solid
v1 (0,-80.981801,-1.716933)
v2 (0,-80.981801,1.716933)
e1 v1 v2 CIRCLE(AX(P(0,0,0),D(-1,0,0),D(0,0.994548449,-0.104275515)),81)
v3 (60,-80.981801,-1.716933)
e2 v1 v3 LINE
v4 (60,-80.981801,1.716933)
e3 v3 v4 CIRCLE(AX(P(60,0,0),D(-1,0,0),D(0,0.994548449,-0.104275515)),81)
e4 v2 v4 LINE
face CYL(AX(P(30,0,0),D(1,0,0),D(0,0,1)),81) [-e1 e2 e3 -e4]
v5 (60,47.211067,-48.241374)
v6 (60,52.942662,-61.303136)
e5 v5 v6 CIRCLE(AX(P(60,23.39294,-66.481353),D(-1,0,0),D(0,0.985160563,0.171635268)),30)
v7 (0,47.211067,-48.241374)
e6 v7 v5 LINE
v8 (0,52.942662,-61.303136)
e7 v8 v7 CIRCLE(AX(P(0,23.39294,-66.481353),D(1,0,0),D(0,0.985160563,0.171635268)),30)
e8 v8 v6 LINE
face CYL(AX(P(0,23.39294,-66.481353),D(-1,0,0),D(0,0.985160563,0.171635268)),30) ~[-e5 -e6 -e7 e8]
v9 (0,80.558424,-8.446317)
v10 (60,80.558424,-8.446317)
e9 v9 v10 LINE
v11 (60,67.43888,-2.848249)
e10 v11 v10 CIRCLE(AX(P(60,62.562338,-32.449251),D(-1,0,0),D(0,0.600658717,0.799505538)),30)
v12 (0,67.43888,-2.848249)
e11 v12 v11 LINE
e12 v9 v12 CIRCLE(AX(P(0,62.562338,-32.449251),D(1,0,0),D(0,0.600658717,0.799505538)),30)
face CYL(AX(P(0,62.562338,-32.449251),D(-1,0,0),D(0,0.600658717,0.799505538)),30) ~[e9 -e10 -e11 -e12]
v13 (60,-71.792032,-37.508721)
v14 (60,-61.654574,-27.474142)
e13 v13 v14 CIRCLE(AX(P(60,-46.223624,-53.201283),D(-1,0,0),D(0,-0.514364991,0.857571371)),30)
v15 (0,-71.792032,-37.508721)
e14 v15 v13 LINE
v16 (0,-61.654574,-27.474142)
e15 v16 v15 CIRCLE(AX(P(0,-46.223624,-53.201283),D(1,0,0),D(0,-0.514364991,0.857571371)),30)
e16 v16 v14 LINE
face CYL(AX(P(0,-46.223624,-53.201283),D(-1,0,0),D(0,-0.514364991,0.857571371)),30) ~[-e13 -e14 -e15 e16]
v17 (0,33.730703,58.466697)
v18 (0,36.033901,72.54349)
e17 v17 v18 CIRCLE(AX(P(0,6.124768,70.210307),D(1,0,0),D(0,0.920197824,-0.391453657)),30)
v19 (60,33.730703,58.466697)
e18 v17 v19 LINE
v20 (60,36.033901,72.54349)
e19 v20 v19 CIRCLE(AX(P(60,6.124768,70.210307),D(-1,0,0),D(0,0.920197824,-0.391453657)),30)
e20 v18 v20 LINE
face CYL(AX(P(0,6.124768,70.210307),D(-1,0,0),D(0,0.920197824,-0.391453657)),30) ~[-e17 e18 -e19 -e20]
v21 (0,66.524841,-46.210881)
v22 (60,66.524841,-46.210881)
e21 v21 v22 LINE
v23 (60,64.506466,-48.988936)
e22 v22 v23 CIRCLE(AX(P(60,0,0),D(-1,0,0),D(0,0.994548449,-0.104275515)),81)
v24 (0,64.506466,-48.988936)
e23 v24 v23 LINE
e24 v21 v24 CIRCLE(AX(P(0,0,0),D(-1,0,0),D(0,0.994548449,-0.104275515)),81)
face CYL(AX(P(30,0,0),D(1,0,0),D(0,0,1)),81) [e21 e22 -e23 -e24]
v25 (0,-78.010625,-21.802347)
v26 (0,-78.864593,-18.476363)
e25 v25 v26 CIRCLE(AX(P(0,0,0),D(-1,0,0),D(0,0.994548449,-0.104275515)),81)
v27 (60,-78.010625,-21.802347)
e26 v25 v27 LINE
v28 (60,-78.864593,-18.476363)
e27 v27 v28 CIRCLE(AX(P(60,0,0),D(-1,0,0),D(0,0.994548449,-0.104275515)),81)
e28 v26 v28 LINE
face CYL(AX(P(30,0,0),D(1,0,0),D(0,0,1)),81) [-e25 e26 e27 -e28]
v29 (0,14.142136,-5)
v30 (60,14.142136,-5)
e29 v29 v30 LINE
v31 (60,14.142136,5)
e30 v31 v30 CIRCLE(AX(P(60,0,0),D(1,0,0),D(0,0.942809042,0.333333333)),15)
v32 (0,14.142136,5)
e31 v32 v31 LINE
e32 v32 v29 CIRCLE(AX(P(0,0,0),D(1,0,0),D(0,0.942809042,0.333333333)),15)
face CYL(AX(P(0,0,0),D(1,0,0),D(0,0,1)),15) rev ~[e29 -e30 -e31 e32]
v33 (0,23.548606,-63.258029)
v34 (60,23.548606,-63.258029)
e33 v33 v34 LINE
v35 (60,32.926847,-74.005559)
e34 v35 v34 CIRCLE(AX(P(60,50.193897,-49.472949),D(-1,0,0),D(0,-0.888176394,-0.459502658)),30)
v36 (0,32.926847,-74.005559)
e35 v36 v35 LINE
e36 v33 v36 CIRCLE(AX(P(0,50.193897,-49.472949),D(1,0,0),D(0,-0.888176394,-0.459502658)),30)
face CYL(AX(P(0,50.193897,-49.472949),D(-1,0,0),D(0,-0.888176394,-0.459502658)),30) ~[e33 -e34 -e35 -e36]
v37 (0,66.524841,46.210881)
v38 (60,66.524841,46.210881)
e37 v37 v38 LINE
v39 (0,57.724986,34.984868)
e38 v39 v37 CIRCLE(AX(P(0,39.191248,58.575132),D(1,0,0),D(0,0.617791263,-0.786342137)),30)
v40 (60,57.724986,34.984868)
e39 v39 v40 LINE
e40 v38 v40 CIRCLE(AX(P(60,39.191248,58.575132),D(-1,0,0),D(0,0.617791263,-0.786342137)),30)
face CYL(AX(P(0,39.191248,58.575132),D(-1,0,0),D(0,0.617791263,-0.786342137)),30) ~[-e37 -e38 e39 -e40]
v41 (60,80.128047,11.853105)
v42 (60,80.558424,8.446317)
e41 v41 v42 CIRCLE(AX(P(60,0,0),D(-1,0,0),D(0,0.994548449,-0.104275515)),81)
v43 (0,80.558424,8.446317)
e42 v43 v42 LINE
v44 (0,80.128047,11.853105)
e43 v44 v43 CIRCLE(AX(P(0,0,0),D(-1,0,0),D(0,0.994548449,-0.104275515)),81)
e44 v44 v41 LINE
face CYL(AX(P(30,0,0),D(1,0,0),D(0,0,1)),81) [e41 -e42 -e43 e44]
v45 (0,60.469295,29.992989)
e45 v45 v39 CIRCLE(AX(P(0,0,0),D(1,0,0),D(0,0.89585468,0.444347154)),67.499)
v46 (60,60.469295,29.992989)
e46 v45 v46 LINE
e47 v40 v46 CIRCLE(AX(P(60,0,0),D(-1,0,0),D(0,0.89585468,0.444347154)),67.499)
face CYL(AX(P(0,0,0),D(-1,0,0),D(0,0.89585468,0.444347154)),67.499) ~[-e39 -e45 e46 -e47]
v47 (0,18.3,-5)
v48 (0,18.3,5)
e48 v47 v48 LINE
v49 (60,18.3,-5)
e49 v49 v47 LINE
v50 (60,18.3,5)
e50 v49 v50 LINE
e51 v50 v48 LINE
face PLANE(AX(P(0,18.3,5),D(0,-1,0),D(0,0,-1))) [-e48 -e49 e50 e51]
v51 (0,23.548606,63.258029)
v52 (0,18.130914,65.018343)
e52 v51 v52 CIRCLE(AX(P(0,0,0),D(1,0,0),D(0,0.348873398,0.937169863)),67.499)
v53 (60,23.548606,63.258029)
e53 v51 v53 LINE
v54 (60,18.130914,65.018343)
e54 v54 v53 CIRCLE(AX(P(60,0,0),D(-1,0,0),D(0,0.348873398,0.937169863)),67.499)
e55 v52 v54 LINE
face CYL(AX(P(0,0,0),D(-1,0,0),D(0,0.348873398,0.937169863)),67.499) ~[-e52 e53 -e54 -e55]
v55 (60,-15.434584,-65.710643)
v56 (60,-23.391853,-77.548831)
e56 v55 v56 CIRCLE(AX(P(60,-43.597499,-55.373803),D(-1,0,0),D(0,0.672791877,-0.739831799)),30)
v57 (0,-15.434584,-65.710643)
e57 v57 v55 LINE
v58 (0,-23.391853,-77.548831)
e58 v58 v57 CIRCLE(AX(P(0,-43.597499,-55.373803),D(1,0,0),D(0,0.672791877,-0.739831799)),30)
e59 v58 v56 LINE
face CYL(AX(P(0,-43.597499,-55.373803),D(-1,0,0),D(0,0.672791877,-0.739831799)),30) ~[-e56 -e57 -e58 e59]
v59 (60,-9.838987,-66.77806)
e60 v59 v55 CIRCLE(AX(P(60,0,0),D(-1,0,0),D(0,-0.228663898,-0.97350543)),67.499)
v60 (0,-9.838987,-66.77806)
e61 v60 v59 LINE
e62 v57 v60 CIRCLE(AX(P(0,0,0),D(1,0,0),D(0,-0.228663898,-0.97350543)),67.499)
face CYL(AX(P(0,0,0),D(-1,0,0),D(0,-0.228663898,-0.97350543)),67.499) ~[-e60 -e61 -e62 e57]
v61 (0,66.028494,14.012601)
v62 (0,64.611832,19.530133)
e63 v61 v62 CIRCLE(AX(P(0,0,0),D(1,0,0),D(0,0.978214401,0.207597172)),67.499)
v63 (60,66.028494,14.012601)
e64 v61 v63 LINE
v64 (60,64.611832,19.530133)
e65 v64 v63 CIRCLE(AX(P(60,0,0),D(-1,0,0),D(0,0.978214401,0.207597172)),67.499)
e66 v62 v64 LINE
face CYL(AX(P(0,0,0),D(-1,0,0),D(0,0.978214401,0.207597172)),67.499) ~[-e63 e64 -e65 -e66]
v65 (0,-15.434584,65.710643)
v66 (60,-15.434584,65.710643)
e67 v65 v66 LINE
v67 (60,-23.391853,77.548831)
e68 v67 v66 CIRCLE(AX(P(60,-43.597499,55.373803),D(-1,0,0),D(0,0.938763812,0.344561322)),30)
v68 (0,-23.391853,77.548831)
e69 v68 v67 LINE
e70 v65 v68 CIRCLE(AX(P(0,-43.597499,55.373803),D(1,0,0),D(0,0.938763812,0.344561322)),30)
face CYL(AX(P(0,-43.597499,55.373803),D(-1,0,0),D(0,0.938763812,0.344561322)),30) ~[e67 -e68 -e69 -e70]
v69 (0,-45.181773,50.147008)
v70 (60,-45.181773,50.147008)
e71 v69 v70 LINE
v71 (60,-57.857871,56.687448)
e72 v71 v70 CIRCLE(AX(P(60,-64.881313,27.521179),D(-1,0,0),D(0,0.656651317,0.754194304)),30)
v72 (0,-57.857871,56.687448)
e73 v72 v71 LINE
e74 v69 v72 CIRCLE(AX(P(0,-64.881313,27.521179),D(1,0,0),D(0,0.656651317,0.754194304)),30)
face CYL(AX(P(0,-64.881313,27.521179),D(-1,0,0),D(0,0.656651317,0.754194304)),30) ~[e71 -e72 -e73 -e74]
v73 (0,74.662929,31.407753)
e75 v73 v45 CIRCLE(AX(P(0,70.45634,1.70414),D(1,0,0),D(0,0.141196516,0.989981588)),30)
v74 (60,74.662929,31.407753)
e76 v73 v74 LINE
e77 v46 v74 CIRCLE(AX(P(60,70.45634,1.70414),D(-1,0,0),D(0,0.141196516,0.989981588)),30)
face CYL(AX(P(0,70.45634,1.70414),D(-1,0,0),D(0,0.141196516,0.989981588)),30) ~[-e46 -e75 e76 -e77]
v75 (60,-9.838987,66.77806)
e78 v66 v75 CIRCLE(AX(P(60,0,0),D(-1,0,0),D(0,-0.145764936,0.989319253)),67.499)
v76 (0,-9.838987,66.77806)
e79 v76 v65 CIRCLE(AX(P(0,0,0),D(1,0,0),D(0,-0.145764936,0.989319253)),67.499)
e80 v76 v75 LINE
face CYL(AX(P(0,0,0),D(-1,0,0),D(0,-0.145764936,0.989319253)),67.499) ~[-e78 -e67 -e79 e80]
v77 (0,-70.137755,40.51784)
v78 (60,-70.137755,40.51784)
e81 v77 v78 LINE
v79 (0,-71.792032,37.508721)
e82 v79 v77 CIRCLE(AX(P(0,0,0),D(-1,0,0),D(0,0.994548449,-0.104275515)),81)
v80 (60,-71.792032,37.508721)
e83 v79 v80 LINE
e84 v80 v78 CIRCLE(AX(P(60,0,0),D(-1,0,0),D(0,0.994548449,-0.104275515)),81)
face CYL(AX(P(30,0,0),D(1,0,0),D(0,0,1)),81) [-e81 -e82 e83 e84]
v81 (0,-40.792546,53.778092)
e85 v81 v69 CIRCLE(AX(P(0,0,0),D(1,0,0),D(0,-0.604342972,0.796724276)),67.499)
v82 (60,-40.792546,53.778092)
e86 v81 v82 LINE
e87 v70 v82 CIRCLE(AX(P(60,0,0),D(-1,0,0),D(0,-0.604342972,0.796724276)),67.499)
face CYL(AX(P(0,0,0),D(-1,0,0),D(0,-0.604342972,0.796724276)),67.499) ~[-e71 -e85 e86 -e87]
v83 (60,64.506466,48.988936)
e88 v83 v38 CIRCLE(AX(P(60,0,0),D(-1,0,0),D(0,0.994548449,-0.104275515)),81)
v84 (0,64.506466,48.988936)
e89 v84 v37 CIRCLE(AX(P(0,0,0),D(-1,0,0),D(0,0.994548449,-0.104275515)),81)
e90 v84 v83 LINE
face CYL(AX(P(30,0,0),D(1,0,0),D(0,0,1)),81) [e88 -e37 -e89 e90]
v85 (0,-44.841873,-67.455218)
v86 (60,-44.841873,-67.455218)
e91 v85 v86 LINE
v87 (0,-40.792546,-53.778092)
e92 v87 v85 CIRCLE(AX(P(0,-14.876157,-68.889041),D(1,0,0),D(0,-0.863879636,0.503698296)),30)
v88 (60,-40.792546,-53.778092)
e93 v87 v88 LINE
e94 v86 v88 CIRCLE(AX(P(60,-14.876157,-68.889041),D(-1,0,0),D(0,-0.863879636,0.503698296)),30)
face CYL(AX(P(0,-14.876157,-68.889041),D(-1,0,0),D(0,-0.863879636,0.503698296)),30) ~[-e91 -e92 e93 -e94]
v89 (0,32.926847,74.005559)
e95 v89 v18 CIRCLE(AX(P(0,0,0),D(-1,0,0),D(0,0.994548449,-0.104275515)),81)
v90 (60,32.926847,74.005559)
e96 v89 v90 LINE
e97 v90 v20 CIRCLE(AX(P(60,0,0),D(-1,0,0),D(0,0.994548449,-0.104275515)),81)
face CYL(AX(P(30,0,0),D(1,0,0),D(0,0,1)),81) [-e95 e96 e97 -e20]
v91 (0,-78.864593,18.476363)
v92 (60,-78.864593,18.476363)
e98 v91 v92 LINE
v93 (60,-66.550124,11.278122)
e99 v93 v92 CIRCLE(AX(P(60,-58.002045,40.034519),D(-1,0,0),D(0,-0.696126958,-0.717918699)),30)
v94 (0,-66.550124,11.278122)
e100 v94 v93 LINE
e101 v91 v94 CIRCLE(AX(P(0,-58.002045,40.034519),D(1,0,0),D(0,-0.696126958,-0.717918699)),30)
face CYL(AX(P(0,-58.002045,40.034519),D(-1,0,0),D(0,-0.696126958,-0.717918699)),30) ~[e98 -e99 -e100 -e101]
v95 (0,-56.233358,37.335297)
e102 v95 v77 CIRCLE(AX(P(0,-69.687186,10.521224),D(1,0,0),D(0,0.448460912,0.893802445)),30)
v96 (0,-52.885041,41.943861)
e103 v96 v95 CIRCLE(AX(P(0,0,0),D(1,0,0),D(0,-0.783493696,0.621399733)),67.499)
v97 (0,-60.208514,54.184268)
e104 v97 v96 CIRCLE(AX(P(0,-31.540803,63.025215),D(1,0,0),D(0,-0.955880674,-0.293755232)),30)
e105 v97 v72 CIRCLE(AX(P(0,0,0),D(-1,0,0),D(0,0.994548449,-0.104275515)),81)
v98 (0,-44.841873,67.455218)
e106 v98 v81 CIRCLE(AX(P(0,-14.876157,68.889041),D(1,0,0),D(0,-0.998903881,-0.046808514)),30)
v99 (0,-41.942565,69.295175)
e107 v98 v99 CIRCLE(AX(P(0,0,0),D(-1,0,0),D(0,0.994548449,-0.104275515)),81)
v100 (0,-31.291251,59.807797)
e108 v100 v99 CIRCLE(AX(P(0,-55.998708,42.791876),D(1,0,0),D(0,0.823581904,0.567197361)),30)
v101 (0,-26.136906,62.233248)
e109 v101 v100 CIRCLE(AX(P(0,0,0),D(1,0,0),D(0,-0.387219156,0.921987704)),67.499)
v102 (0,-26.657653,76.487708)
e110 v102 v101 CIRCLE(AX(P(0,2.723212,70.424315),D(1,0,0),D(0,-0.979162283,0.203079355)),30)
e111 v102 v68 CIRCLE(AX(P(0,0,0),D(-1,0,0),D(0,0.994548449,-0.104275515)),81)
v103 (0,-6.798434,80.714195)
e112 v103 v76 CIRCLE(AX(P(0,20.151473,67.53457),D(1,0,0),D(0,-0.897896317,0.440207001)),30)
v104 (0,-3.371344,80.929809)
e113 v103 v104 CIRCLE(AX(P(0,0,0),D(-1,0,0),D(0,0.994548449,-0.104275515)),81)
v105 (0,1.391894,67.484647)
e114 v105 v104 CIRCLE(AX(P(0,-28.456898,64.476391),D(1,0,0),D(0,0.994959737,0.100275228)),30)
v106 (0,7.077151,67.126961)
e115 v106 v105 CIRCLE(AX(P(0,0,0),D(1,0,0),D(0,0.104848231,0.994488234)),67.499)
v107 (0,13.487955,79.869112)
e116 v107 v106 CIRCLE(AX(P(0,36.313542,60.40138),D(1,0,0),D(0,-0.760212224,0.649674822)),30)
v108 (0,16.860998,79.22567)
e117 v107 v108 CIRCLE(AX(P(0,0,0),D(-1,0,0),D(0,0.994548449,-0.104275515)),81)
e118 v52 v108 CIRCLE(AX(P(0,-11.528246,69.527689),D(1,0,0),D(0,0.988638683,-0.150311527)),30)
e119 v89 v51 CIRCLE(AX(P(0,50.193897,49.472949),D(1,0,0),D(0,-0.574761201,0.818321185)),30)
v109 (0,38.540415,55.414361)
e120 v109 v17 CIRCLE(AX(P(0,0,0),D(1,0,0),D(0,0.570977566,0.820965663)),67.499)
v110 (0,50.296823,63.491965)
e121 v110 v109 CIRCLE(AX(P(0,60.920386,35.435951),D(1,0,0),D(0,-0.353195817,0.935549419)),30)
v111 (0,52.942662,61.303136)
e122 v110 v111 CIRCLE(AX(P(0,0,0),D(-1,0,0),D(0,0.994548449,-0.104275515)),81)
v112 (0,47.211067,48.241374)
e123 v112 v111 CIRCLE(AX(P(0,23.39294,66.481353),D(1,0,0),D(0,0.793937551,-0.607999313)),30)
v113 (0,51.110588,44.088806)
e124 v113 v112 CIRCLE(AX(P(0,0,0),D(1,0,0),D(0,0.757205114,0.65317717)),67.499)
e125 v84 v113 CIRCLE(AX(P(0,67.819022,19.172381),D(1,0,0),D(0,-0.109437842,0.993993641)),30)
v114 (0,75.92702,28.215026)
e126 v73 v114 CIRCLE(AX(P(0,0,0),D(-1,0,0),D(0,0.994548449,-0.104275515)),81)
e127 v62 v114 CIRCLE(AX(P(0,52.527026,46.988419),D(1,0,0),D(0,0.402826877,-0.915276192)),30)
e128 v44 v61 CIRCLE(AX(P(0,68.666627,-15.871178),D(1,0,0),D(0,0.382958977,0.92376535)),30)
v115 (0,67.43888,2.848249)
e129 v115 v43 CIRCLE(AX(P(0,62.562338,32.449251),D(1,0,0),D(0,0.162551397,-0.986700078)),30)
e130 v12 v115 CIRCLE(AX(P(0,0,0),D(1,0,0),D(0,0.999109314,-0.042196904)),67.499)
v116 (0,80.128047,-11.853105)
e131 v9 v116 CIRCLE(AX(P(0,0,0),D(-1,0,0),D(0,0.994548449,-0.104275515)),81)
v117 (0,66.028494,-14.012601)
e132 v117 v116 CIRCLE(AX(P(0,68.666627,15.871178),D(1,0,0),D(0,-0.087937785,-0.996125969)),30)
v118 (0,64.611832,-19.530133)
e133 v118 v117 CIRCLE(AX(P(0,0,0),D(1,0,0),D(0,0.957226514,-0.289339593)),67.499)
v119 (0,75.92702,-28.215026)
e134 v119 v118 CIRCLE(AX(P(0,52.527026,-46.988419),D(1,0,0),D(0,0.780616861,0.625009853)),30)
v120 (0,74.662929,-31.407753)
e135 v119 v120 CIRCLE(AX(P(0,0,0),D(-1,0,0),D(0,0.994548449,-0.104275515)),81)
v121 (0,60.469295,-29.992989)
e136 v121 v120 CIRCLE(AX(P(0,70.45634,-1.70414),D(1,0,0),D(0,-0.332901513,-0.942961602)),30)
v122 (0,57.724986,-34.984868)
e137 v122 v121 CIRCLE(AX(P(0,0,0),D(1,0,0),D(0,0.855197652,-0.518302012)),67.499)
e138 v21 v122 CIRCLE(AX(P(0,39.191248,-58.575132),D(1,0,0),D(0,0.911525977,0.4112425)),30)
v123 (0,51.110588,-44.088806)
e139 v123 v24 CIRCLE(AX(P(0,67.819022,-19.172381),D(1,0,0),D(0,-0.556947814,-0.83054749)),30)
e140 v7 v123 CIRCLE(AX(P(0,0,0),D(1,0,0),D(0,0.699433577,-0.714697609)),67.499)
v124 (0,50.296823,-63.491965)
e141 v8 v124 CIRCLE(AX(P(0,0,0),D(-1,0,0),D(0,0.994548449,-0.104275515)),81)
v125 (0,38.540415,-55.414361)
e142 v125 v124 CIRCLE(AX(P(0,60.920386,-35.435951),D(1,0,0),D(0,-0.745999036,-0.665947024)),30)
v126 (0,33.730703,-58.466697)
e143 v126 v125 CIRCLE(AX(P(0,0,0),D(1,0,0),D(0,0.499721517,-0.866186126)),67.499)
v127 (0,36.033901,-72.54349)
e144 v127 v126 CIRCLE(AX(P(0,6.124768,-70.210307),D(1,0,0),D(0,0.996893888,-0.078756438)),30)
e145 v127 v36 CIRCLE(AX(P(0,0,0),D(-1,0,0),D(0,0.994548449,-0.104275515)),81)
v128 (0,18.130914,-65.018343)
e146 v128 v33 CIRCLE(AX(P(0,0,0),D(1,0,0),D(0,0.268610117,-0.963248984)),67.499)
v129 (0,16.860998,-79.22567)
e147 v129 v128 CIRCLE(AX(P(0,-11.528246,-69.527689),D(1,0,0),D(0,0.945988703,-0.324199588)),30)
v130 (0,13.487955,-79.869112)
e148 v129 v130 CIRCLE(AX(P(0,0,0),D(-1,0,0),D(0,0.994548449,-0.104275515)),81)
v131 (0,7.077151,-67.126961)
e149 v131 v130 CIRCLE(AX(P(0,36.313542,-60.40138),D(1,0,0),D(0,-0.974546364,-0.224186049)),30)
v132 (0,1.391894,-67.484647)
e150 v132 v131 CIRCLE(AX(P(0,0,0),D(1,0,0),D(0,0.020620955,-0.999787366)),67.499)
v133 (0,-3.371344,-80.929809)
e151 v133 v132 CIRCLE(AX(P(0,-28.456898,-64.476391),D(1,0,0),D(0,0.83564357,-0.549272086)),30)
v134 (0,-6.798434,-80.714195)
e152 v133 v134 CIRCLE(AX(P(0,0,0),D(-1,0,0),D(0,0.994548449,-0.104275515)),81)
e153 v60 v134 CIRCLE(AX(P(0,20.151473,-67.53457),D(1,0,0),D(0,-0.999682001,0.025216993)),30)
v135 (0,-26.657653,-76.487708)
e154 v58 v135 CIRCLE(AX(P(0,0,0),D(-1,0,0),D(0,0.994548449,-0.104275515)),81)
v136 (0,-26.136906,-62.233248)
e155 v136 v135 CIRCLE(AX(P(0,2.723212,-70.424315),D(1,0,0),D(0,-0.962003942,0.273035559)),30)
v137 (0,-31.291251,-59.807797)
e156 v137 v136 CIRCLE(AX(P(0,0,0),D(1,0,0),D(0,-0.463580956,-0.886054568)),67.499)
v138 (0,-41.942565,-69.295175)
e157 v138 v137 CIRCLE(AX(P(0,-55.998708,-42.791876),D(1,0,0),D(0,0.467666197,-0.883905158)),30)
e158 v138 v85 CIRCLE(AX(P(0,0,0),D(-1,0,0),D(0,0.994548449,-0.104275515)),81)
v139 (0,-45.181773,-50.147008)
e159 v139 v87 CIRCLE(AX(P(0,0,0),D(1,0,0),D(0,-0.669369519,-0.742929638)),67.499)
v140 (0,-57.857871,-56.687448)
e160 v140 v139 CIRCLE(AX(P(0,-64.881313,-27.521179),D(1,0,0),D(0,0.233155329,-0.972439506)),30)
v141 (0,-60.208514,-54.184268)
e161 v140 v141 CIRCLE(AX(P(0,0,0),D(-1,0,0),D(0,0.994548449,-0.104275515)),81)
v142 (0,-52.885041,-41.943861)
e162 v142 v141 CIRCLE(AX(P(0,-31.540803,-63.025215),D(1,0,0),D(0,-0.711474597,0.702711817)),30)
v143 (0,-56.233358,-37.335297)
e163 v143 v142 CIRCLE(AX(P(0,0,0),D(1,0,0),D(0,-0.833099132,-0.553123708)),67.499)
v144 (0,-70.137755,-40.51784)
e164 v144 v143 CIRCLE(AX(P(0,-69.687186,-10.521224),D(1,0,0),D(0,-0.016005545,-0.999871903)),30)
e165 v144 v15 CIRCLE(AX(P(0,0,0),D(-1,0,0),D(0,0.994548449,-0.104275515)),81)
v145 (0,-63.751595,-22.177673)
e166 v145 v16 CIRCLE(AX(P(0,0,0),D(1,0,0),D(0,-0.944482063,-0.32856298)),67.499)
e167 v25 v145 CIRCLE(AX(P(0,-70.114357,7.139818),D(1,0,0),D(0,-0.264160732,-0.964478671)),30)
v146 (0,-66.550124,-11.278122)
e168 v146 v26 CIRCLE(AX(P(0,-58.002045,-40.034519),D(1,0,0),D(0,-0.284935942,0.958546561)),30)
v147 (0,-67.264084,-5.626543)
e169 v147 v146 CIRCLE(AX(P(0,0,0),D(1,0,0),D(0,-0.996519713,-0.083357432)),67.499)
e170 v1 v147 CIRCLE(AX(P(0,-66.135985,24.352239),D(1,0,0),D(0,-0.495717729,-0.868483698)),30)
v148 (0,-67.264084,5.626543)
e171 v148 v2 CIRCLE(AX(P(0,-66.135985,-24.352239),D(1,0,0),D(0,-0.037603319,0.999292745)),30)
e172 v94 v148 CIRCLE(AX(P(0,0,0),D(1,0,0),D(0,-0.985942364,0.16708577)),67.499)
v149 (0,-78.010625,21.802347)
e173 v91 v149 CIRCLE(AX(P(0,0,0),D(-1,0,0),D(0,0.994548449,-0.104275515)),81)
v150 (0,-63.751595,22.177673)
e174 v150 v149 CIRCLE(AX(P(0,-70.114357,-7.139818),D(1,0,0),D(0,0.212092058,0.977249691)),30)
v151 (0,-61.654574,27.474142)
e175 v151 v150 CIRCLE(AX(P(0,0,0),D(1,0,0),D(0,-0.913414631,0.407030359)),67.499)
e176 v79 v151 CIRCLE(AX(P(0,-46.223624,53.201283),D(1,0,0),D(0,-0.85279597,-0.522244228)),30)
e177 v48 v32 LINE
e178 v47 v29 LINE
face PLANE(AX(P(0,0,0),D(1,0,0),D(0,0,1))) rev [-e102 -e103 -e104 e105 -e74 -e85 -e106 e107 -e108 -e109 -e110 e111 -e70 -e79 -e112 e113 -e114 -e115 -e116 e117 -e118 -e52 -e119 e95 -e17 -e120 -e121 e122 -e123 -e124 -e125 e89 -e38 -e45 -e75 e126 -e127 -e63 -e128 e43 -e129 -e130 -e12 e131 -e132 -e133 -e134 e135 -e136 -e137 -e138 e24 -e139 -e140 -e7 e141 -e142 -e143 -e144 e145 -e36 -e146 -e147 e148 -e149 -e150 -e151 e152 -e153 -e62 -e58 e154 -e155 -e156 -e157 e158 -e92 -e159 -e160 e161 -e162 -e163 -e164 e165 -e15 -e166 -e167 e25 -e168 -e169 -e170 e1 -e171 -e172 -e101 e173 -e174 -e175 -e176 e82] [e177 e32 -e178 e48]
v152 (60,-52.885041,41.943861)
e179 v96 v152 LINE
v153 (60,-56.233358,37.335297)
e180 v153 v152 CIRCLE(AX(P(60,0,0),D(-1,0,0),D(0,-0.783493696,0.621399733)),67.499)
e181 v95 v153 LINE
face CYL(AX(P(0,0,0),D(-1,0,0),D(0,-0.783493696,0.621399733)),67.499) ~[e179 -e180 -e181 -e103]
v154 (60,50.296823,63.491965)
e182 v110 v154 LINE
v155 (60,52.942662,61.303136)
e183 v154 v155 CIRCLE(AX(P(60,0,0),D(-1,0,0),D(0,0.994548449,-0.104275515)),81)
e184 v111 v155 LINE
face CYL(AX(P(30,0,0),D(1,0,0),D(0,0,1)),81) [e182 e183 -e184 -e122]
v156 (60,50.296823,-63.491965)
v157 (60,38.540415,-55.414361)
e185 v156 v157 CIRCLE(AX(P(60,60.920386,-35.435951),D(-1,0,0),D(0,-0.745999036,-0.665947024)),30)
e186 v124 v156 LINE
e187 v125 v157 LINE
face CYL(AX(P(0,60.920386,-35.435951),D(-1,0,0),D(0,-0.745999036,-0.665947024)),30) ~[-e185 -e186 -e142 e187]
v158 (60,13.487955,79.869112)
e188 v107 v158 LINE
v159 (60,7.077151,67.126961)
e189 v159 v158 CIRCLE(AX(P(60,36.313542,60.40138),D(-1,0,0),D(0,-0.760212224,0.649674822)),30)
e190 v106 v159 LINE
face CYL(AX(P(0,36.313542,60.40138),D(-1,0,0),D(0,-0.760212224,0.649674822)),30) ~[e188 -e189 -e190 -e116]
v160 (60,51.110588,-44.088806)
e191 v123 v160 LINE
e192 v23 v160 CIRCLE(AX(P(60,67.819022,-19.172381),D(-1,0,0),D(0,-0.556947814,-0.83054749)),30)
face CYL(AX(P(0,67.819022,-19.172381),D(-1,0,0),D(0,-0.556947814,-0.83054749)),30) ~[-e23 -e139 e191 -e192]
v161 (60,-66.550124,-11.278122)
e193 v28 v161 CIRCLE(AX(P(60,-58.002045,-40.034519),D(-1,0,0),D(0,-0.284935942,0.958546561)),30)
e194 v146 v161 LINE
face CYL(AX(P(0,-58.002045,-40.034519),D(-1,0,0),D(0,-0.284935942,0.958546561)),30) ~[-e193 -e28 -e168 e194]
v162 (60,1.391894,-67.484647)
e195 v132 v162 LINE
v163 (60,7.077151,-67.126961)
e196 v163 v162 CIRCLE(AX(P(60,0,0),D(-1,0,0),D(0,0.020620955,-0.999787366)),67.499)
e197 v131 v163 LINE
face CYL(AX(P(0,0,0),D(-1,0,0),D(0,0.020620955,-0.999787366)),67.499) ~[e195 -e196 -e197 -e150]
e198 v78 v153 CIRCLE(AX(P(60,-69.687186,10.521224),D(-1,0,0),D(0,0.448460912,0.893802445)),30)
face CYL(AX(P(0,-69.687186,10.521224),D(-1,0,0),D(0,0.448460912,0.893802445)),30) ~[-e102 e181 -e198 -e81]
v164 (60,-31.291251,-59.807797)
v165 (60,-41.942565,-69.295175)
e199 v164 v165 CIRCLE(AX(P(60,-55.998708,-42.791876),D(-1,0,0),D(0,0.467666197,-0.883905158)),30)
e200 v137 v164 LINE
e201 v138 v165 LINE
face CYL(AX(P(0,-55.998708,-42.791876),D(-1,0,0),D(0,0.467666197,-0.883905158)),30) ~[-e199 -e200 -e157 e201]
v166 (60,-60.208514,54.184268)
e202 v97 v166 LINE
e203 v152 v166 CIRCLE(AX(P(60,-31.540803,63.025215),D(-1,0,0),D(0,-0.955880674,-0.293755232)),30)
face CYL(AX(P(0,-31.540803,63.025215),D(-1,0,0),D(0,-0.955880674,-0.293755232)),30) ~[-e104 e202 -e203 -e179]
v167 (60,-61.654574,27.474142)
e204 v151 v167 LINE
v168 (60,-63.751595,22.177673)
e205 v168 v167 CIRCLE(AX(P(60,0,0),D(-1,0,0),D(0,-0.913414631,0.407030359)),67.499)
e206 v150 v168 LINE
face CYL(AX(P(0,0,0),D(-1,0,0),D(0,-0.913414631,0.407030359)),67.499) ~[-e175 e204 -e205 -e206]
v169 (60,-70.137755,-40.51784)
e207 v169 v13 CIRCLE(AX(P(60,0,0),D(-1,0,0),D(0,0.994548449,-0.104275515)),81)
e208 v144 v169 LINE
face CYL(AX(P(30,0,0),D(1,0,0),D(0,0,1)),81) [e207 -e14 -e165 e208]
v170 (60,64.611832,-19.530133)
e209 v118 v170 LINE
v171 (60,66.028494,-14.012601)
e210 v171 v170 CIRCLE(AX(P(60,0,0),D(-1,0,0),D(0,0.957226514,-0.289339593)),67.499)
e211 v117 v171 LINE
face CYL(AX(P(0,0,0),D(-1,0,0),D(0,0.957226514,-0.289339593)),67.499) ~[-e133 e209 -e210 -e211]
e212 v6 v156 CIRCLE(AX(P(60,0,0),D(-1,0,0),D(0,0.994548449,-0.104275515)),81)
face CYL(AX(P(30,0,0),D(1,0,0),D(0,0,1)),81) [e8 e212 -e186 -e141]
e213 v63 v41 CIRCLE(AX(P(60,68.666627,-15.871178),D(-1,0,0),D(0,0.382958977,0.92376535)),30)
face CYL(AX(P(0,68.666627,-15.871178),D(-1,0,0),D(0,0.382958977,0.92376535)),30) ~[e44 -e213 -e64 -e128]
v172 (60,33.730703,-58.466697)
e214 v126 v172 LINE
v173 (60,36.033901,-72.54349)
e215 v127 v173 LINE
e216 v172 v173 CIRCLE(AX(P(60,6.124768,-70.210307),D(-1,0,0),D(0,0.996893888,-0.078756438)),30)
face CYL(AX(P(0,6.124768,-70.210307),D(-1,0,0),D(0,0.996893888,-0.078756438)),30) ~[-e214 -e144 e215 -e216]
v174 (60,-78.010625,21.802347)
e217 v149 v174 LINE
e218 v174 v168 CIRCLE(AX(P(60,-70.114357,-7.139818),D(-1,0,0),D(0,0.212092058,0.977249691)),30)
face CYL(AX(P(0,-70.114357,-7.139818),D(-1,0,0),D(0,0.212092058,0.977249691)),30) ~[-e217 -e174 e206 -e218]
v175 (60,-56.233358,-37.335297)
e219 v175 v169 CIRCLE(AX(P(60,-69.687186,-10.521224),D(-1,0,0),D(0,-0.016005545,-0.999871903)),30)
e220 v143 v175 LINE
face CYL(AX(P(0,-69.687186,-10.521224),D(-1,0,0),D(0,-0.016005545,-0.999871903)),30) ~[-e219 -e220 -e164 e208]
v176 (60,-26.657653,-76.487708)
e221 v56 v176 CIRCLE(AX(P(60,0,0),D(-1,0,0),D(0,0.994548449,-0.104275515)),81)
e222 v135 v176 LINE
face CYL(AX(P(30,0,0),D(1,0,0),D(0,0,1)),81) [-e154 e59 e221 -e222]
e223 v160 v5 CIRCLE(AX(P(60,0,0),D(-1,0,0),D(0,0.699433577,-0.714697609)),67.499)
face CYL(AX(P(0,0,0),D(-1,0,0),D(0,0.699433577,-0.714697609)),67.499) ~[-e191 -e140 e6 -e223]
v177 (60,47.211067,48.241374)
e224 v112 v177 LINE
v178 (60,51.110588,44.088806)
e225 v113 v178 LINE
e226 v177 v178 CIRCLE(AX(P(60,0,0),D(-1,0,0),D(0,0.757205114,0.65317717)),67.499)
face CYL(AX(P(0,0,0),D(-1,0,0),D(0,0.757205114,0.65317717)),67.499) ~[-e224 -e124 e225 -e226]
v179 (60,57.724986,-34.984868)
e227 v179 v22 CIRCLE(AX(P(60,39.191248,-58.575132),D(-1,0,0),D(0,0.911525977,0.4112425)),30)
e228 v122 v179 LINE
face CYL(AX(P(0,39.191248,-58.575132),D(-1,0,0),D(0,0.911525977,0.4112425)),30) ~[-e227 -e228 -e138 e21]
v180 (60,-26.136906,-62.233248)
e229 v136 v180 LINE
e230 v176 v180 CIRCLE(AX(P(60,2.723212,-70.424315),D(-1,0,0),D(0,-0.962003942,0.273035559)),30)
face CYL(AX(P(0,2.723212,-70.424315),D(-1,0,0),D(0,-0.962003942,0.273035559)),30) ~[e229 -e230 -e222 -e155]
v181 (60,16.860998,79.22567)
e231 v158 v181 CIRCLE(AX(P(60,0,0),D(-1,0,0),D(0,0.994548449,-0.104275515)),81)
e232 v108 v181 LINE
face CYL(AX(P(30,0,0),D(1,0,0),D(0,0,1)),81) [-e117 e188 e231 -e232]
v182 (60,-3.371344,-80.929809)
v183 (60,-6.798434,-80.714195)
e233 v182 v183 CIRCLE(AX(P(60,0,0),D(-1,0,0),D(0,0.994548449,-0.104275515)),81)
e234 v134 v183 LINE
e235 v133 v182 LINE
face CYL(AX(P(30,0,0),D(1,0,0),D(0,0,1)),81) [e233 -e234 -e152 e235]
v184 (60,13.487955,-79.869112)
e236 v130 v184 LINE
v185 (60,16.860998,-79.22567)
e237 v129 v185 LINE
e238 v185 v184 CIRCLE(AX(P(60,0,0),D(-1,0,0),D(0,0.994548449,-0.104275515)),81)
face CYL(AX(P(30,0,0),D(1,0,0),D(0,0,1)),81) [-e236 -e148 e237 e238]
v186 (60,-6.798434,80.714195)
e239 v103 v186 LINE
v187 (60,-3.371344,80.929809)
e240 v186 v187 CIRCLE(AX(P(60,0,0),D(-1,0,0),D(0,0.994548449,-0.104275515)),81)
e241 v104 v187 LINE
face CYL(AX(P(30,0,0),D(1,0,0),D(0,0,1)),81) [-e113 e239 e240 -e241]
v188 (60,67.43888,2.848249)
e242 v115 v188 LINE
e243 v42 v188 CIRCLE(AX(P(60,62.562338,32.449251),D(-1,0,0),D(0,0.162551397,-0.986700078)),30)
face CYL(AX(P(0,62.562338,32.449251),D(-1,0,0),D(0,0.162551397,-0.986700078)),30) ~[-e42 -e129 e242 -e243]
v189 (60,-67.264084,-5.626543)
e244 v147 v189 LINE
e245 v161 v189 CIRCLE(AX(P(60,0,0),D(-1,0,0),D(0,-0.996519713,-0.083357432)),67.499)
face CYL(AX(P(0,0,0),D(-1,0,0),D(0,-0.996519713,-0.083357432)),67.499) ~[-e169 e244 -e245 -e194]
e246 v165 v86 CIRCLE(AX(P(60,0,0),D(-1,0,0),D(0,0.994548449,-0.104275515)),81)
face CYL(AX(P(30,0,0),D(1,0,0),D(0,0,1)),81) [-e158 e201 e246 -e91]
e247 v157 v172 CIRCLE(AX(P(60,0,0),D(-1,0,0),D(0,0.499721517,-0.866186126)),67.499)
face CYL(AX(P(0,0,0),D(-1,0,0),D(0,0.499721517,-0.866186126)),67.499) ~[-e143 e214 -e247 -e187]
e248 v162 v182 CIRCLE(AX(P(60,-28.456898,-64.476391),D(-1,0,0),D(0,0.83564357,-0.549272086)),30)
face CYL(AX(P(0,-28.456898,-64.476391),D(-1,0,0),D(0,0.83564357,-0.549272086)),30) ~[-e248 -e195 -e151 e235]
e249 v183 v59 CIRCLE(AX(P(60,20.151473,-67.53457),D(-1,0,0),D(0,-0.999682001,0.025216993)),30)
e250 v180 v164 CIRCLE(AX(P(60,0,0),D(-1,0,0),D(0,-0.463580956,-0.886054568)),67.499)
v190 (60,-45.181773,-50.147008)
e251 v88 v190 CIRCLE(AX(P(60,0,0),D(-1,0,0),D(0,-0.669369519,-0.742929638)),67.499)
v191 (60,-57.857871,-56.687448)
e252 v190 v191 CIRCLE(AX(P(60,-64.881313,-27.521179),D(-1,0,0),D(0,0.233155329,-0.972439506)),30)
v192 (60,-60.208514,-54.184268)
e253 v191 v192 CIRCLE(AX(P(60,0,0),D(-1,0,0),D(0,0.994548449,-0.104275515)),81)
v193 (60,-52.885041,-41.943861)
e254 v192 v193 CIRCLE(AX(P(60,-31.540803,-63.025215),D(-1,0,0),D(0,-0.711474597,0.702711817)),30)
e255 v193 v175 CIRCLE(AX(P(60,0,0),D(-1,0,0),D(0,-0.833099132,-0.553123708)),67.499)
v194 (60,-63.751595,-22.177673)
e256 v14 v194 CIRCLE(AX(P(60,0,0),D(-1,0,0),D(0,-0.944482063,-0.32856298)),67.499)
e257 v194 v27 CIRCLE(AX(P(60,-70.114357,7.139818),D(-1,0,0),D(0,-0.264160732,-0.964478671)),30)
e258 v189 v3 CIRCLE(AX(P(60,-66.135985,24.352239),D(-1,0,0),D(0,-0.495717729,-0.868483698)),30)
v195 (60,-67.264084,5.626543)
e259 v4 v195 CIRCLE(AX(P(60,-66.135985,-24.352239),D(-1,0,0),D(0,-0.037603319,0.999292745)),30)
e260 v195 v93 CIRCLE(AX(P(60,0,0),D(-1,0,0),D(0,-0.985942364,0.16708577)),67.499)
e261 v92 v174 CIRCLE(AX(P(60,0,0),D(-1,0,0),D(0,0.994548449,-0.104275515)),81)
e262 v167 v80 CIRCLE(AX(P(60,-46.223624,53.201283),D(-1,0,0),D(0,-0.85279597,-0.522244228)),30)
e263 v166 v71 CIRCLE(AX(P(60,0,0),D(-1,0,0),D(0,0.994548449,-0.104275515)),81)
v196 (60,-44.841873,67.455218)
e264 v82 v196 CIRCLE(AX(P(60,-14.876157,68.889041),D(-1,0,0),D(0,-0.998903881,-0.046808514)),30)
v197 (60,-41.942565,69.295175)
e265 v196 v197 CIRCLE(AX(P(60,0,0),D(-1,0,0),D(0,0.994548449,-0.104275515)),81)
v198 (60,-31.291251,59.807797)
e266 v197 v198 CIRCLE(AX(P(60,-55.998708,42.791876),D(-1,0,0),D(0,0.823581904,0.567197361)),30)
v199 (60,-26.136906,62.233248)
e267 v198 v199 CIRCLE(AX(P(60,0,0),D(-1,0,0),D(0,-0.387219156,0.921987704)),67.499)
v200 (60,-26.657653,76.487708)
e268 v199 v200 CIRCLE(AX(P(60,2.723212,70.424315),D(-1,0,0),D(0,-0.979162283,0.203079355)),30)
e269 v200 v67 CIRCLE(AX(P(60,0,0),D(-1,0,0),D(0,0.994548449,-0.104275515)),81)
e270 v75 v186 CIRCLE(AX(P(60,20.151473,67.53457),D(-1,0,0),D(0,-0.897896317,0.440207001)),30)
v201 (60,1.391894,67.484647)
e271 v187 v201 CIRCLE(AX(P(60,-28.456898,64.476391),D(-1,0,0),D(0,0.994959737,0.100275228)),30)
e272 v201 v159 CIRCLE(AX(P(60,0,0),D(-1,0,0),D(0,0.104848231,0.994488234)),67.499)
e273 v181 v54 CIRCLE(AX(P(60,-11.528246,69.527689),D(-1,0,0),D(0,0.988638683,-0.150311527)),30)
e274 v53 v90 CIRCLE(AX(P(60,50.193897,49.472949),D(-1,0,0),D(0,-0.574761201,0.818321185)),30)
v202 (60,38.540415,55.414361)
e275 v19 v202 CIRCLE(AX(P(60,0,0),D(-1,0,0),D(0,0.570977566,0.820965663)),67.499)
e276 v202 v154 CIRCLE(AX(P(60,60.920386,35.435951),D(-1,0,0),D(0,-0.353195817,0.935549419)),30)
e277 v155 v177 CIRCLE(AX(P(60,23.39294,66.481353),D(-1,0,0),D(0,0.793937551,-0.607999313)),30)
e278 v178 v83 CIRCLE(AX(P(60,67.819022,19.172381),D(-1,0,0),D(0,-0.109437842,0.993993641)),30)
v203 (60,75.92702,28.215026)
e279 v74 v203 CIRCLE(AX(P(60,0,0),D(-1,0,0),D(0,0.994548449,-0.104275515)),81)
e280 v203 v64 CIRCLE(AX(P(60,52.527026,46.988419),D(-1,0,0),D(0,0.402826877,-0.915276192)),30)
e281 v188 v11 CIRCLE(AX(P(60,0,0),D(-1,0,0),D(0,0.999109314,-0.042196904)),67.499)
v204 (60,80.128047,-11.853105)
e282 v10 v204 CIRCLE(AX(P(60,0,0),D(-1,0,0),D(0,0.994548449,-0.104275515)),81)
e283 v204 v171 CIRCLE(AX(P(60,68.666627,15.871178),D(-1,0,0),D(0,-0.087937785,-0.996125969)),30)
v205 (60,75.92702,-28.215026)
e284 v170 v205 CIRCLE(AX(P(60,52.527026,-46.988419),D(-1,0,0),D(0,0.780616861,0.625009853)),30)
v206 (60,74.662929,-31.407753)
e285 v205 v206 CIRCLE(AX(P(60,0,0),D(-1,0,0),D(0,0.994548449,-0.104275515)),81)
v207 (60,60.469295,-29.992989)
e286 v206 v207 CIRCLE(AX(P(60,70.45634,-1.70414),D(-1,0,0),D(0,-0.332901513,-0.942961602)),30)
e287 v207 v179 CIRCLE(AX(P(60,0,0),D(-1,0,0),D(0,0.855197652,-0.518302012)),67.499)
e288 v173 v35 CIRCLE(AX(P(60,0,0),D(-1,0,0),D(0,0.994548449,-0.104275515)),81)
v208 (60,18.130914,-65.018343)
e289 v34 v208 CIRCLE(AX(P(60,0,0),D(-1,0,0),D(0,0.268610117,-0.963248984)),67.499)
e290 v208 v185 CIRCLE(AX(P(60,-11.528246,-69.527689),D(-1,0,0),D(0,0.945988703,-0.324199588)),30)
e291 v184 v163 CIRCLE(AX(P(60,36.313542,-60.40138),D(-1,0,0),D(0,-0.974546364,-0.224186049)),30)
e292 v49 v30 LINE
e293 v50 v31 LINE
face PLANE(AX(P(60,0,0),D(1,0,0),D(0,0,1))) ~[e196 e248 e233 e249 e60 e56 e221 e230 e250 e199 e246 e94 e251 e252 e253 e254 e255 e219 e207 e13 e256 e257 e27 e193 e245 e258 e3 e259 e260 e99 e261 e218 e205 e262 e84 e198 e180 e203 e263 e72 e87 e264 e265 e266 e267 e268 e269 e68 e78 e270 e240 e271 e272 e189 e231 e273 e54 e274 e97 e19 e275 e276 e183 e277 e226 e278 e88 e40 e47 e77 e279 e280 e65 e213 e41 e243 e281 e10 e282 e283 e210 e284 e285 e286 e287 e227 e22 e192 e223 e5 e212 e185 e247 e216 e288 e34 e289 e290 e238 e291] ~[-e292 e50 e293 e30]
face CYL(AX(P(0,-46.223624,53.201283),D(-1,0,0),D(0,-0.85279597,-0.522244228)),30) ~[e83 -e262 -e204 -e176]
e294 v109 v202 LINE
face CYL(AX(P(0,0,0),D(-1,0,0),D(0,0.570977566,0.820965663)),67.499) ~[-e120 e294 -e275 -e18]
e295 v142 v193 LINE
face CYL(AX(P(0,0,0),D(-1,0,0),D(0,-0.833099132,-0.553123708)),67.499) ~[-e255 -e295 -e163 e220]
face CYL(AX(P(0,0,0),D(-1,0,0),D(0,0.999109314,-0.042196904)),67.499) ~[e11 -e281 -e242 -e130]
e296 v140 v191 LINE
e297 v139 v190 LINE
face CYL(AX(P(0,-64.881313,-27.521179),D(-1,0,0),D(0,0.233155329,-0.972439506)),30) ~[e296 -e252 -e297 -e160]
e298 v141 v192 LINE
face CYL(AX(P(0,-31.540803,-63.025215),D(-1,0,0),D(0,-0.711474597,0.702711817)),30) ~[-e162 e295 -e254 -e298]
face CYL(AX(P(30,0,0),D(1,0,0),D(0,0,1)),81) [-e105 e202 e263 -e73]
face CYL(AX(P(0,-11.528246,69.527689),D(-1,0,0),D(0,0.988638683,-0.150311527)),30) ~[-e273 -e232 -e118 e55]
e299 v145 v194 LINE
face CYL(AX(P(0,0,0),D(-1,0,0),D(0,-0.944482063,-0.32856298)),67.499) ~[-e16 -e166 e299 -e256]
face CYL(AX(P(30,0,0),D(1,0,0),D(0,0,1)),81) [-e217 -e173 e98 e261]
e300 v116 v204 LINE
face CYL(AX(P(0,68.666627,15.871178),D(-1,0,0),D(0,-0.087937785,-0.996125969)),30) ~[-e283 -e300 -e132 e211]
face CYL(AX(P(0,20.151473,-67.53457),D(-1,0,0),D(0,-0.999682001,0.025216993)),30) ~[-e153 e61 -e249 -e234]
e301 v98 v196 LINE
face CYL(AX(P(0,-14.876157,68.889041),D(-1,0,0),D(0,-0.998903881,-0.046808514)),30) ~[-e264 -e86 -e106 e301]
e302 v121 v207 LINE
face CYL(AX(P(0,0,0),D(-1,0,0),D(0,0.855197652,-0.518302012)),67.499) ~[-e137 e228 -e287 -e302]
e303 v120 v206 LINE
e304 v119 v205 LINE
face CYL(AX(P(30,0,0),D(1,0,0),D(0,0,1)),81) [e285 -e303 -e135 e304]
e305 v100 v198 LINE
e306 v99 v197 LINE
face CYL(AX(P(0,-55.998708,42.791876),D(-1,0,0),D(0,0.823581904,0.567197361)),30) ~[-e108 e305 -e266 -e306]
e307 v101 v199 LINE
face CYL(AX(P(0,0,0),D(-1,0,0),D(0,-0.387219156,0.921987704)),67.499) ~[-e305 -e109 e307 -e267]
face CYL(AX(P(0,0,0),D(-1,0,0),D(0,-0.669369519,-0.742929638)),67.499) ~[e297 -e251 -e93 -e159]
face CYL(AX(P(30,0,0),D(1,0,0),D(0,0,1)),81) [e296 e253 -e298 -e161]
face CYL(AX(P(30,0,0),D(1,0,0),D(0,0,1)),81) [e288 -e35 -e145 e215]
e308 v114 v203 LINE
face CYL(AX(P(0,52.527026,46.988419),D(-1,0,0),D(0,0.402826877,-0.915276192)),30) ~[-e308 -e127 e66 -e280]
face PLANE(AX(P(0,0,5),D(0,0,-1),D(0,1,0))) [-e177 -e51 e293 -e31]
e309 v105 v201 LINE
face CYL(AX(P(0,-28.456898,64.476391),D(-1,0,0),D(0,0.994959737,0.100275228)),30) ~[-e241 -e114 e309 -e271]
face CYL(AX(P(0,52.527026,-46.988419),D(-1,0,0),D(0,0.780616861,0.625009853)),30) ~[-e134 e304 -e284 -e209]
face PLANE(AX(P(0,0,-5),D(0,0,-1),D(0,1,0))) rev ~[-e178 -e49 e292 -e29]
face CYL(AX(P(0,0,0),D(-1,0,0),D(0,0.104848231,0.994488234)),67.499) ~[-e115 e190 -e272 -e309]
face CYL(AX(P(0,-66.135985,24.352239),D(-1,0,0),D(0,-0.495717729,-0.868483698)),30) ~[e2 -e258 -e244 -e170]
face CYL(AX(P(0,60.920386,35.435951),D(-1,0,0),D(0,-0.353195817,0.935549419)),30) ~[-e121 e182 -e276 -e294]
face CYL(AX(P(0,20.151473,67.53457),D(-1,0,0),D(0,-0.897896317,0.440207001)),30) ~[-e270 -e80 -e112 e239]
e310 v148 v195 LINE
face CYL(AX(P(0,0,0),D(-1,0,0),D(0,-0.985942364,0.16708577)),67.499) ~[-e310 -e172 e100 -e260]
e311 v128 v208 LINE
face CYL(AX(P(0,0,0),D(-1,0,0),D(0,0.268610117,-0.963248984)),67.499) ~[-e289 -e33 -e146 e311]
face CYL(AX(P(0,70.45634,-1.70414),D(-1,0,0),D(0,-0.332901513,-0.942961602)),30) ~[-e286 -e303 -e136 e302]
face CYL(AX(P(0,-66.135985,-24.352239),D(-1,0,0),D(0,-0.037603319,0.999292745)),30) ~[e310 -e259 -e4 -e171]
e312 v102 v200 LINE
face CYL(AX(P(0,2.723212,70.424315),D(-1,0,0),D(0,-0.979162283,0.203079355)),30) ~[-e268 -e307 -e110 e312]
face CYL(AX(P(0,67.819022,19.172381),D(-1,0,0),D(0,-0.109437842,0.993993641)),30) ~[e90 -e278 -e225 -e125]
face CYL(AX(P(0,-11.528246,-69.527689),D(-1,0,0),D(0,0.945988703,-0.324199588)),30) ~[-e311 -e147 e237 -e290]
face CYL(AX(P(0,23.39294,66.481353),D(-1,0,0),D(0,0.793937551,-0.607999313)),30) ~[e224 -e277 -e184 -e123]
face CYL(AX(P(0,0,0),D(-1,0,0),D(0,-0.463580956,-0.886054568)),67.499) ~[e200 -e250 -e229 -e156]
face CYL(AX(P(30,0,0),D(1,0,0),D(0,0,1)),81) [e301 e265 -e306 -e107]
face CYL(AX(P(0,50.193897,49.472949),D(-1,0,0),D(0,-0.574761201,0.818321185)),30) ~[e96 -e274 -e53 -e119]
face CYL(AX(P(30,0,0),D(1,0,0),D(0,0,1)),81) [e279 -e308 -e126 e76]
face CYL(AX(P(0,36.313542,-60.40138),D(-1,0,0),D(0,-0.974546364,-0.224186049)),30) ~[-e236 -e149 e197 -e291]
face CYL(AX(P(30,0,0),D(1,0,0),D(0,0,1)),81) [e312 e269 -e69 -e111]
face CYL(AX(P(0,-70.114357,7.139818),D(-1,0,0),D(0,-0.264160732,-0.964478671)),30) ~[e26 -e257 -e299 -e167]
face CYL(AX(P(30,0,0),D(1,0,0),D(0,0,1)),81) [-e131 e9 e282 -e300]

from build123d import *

# Parameters (mm, degrees)
BASPROSKE_W     = 60
BASPROSKE_H     = 81
TOOTHCUT_DEPTH  = 130.313572373
TEETHCUTS_COUNT = 25
TEETHCUTS_ANGLE = 345.6
BORSKE_R        = 15
BORE_DEPTH      = 60.0000508
KEYSKE_W        = 10
KEYSKE_H        = 18.3
KEYWAY_DEPTH    = 60.0000508


with BuildPart() as part:
    # BasProSke → Base-Revolve (revolve)
    with BuildSketch(Plane(origin=(0, 0, 0), x_dir=(1, 0, 0), z_dir=(0, 1, 0)), mode=Mode.PRIVATE) as base_revolve_sk:
        with Locations((30, 40.5)):
            Rectangle(BASPROSKE_W, BASPROSKE_H)
    revolve(base_revolve_sk.sketch.rotate(Axis((-10, 0, 0), (1, 0, 0)), 180), axis=Axis((-10, 0, 0), (1, 0, 0)))

    # TooCutSke → ToothCut (cut, through all)
    with BuildSketch(Plane(origin=(0, 0, 0), x_dir=(0, 0, -1), z_dir=(1, 0, 0))):
        with BuildLine():
            ThreePointArc((2.848248849, 67.438879584), (0, 67.499), (-2.848248849, 67.438879584))
            ThreePointArc((-2.848248849, 67.438879584), (-4.862018292, 74.3498133), (-8.464085034, 80.582099189))
            ThreePointArc((-8.464085034, 80.582099189), (0, 81.0254), (8.464085034, 80.582099189))
            ThreePointArc((8.464085034, 80.582099189), (4.862018292, 74.3498133), (2.848248849, 67.438879584))
        make_face()
    toothcut = extrude(amount=TOOTHCUT_DEPTH, mode=Mode.SUBTRACT)

    # TeethCuts: ToothCut ×25 about axis
    teethcuts_axis = Axis((-10, 0, 0), (1, 0, 0))
    for i in range(1, TEETHCUTS_COUNT):
        add(toothcut.rotate(teethcuts_axis, i * TEETHCUTS_ANGLE / (TEETHCUTS_COUNT - 1)), mode=Mode.SUBTRACT)

    # BorSke → Bore (cut, symmetric)
    with BuildSketch(Plane(origin=(0, 0, 0), x_dir=(0, 0, -1), z_dir=(1, 0, 0))):
        with Locations(Location((0, 0, 0), (0, 0, 180))):
            Circle(BORSKE_R)
    extrude(amount=BORE_DEPTH, both=True, mode=Mode.SUBTRACT)

    # KeySke → Keyway (cut, symmetric)
    with BuildSketch(Plane(origin=(0, 0, 0), x_dir=(0, 0, -1), z_dir=(1, 0, 0))):
        with Locations((0, 9.15)):
            Rectangle(KEYSKE_W, KEYSKE_H)
    extrude(amount=KEYWAY_DEPTH, both=True, mode=Mode.SUBTRACT)


solid = part.part
